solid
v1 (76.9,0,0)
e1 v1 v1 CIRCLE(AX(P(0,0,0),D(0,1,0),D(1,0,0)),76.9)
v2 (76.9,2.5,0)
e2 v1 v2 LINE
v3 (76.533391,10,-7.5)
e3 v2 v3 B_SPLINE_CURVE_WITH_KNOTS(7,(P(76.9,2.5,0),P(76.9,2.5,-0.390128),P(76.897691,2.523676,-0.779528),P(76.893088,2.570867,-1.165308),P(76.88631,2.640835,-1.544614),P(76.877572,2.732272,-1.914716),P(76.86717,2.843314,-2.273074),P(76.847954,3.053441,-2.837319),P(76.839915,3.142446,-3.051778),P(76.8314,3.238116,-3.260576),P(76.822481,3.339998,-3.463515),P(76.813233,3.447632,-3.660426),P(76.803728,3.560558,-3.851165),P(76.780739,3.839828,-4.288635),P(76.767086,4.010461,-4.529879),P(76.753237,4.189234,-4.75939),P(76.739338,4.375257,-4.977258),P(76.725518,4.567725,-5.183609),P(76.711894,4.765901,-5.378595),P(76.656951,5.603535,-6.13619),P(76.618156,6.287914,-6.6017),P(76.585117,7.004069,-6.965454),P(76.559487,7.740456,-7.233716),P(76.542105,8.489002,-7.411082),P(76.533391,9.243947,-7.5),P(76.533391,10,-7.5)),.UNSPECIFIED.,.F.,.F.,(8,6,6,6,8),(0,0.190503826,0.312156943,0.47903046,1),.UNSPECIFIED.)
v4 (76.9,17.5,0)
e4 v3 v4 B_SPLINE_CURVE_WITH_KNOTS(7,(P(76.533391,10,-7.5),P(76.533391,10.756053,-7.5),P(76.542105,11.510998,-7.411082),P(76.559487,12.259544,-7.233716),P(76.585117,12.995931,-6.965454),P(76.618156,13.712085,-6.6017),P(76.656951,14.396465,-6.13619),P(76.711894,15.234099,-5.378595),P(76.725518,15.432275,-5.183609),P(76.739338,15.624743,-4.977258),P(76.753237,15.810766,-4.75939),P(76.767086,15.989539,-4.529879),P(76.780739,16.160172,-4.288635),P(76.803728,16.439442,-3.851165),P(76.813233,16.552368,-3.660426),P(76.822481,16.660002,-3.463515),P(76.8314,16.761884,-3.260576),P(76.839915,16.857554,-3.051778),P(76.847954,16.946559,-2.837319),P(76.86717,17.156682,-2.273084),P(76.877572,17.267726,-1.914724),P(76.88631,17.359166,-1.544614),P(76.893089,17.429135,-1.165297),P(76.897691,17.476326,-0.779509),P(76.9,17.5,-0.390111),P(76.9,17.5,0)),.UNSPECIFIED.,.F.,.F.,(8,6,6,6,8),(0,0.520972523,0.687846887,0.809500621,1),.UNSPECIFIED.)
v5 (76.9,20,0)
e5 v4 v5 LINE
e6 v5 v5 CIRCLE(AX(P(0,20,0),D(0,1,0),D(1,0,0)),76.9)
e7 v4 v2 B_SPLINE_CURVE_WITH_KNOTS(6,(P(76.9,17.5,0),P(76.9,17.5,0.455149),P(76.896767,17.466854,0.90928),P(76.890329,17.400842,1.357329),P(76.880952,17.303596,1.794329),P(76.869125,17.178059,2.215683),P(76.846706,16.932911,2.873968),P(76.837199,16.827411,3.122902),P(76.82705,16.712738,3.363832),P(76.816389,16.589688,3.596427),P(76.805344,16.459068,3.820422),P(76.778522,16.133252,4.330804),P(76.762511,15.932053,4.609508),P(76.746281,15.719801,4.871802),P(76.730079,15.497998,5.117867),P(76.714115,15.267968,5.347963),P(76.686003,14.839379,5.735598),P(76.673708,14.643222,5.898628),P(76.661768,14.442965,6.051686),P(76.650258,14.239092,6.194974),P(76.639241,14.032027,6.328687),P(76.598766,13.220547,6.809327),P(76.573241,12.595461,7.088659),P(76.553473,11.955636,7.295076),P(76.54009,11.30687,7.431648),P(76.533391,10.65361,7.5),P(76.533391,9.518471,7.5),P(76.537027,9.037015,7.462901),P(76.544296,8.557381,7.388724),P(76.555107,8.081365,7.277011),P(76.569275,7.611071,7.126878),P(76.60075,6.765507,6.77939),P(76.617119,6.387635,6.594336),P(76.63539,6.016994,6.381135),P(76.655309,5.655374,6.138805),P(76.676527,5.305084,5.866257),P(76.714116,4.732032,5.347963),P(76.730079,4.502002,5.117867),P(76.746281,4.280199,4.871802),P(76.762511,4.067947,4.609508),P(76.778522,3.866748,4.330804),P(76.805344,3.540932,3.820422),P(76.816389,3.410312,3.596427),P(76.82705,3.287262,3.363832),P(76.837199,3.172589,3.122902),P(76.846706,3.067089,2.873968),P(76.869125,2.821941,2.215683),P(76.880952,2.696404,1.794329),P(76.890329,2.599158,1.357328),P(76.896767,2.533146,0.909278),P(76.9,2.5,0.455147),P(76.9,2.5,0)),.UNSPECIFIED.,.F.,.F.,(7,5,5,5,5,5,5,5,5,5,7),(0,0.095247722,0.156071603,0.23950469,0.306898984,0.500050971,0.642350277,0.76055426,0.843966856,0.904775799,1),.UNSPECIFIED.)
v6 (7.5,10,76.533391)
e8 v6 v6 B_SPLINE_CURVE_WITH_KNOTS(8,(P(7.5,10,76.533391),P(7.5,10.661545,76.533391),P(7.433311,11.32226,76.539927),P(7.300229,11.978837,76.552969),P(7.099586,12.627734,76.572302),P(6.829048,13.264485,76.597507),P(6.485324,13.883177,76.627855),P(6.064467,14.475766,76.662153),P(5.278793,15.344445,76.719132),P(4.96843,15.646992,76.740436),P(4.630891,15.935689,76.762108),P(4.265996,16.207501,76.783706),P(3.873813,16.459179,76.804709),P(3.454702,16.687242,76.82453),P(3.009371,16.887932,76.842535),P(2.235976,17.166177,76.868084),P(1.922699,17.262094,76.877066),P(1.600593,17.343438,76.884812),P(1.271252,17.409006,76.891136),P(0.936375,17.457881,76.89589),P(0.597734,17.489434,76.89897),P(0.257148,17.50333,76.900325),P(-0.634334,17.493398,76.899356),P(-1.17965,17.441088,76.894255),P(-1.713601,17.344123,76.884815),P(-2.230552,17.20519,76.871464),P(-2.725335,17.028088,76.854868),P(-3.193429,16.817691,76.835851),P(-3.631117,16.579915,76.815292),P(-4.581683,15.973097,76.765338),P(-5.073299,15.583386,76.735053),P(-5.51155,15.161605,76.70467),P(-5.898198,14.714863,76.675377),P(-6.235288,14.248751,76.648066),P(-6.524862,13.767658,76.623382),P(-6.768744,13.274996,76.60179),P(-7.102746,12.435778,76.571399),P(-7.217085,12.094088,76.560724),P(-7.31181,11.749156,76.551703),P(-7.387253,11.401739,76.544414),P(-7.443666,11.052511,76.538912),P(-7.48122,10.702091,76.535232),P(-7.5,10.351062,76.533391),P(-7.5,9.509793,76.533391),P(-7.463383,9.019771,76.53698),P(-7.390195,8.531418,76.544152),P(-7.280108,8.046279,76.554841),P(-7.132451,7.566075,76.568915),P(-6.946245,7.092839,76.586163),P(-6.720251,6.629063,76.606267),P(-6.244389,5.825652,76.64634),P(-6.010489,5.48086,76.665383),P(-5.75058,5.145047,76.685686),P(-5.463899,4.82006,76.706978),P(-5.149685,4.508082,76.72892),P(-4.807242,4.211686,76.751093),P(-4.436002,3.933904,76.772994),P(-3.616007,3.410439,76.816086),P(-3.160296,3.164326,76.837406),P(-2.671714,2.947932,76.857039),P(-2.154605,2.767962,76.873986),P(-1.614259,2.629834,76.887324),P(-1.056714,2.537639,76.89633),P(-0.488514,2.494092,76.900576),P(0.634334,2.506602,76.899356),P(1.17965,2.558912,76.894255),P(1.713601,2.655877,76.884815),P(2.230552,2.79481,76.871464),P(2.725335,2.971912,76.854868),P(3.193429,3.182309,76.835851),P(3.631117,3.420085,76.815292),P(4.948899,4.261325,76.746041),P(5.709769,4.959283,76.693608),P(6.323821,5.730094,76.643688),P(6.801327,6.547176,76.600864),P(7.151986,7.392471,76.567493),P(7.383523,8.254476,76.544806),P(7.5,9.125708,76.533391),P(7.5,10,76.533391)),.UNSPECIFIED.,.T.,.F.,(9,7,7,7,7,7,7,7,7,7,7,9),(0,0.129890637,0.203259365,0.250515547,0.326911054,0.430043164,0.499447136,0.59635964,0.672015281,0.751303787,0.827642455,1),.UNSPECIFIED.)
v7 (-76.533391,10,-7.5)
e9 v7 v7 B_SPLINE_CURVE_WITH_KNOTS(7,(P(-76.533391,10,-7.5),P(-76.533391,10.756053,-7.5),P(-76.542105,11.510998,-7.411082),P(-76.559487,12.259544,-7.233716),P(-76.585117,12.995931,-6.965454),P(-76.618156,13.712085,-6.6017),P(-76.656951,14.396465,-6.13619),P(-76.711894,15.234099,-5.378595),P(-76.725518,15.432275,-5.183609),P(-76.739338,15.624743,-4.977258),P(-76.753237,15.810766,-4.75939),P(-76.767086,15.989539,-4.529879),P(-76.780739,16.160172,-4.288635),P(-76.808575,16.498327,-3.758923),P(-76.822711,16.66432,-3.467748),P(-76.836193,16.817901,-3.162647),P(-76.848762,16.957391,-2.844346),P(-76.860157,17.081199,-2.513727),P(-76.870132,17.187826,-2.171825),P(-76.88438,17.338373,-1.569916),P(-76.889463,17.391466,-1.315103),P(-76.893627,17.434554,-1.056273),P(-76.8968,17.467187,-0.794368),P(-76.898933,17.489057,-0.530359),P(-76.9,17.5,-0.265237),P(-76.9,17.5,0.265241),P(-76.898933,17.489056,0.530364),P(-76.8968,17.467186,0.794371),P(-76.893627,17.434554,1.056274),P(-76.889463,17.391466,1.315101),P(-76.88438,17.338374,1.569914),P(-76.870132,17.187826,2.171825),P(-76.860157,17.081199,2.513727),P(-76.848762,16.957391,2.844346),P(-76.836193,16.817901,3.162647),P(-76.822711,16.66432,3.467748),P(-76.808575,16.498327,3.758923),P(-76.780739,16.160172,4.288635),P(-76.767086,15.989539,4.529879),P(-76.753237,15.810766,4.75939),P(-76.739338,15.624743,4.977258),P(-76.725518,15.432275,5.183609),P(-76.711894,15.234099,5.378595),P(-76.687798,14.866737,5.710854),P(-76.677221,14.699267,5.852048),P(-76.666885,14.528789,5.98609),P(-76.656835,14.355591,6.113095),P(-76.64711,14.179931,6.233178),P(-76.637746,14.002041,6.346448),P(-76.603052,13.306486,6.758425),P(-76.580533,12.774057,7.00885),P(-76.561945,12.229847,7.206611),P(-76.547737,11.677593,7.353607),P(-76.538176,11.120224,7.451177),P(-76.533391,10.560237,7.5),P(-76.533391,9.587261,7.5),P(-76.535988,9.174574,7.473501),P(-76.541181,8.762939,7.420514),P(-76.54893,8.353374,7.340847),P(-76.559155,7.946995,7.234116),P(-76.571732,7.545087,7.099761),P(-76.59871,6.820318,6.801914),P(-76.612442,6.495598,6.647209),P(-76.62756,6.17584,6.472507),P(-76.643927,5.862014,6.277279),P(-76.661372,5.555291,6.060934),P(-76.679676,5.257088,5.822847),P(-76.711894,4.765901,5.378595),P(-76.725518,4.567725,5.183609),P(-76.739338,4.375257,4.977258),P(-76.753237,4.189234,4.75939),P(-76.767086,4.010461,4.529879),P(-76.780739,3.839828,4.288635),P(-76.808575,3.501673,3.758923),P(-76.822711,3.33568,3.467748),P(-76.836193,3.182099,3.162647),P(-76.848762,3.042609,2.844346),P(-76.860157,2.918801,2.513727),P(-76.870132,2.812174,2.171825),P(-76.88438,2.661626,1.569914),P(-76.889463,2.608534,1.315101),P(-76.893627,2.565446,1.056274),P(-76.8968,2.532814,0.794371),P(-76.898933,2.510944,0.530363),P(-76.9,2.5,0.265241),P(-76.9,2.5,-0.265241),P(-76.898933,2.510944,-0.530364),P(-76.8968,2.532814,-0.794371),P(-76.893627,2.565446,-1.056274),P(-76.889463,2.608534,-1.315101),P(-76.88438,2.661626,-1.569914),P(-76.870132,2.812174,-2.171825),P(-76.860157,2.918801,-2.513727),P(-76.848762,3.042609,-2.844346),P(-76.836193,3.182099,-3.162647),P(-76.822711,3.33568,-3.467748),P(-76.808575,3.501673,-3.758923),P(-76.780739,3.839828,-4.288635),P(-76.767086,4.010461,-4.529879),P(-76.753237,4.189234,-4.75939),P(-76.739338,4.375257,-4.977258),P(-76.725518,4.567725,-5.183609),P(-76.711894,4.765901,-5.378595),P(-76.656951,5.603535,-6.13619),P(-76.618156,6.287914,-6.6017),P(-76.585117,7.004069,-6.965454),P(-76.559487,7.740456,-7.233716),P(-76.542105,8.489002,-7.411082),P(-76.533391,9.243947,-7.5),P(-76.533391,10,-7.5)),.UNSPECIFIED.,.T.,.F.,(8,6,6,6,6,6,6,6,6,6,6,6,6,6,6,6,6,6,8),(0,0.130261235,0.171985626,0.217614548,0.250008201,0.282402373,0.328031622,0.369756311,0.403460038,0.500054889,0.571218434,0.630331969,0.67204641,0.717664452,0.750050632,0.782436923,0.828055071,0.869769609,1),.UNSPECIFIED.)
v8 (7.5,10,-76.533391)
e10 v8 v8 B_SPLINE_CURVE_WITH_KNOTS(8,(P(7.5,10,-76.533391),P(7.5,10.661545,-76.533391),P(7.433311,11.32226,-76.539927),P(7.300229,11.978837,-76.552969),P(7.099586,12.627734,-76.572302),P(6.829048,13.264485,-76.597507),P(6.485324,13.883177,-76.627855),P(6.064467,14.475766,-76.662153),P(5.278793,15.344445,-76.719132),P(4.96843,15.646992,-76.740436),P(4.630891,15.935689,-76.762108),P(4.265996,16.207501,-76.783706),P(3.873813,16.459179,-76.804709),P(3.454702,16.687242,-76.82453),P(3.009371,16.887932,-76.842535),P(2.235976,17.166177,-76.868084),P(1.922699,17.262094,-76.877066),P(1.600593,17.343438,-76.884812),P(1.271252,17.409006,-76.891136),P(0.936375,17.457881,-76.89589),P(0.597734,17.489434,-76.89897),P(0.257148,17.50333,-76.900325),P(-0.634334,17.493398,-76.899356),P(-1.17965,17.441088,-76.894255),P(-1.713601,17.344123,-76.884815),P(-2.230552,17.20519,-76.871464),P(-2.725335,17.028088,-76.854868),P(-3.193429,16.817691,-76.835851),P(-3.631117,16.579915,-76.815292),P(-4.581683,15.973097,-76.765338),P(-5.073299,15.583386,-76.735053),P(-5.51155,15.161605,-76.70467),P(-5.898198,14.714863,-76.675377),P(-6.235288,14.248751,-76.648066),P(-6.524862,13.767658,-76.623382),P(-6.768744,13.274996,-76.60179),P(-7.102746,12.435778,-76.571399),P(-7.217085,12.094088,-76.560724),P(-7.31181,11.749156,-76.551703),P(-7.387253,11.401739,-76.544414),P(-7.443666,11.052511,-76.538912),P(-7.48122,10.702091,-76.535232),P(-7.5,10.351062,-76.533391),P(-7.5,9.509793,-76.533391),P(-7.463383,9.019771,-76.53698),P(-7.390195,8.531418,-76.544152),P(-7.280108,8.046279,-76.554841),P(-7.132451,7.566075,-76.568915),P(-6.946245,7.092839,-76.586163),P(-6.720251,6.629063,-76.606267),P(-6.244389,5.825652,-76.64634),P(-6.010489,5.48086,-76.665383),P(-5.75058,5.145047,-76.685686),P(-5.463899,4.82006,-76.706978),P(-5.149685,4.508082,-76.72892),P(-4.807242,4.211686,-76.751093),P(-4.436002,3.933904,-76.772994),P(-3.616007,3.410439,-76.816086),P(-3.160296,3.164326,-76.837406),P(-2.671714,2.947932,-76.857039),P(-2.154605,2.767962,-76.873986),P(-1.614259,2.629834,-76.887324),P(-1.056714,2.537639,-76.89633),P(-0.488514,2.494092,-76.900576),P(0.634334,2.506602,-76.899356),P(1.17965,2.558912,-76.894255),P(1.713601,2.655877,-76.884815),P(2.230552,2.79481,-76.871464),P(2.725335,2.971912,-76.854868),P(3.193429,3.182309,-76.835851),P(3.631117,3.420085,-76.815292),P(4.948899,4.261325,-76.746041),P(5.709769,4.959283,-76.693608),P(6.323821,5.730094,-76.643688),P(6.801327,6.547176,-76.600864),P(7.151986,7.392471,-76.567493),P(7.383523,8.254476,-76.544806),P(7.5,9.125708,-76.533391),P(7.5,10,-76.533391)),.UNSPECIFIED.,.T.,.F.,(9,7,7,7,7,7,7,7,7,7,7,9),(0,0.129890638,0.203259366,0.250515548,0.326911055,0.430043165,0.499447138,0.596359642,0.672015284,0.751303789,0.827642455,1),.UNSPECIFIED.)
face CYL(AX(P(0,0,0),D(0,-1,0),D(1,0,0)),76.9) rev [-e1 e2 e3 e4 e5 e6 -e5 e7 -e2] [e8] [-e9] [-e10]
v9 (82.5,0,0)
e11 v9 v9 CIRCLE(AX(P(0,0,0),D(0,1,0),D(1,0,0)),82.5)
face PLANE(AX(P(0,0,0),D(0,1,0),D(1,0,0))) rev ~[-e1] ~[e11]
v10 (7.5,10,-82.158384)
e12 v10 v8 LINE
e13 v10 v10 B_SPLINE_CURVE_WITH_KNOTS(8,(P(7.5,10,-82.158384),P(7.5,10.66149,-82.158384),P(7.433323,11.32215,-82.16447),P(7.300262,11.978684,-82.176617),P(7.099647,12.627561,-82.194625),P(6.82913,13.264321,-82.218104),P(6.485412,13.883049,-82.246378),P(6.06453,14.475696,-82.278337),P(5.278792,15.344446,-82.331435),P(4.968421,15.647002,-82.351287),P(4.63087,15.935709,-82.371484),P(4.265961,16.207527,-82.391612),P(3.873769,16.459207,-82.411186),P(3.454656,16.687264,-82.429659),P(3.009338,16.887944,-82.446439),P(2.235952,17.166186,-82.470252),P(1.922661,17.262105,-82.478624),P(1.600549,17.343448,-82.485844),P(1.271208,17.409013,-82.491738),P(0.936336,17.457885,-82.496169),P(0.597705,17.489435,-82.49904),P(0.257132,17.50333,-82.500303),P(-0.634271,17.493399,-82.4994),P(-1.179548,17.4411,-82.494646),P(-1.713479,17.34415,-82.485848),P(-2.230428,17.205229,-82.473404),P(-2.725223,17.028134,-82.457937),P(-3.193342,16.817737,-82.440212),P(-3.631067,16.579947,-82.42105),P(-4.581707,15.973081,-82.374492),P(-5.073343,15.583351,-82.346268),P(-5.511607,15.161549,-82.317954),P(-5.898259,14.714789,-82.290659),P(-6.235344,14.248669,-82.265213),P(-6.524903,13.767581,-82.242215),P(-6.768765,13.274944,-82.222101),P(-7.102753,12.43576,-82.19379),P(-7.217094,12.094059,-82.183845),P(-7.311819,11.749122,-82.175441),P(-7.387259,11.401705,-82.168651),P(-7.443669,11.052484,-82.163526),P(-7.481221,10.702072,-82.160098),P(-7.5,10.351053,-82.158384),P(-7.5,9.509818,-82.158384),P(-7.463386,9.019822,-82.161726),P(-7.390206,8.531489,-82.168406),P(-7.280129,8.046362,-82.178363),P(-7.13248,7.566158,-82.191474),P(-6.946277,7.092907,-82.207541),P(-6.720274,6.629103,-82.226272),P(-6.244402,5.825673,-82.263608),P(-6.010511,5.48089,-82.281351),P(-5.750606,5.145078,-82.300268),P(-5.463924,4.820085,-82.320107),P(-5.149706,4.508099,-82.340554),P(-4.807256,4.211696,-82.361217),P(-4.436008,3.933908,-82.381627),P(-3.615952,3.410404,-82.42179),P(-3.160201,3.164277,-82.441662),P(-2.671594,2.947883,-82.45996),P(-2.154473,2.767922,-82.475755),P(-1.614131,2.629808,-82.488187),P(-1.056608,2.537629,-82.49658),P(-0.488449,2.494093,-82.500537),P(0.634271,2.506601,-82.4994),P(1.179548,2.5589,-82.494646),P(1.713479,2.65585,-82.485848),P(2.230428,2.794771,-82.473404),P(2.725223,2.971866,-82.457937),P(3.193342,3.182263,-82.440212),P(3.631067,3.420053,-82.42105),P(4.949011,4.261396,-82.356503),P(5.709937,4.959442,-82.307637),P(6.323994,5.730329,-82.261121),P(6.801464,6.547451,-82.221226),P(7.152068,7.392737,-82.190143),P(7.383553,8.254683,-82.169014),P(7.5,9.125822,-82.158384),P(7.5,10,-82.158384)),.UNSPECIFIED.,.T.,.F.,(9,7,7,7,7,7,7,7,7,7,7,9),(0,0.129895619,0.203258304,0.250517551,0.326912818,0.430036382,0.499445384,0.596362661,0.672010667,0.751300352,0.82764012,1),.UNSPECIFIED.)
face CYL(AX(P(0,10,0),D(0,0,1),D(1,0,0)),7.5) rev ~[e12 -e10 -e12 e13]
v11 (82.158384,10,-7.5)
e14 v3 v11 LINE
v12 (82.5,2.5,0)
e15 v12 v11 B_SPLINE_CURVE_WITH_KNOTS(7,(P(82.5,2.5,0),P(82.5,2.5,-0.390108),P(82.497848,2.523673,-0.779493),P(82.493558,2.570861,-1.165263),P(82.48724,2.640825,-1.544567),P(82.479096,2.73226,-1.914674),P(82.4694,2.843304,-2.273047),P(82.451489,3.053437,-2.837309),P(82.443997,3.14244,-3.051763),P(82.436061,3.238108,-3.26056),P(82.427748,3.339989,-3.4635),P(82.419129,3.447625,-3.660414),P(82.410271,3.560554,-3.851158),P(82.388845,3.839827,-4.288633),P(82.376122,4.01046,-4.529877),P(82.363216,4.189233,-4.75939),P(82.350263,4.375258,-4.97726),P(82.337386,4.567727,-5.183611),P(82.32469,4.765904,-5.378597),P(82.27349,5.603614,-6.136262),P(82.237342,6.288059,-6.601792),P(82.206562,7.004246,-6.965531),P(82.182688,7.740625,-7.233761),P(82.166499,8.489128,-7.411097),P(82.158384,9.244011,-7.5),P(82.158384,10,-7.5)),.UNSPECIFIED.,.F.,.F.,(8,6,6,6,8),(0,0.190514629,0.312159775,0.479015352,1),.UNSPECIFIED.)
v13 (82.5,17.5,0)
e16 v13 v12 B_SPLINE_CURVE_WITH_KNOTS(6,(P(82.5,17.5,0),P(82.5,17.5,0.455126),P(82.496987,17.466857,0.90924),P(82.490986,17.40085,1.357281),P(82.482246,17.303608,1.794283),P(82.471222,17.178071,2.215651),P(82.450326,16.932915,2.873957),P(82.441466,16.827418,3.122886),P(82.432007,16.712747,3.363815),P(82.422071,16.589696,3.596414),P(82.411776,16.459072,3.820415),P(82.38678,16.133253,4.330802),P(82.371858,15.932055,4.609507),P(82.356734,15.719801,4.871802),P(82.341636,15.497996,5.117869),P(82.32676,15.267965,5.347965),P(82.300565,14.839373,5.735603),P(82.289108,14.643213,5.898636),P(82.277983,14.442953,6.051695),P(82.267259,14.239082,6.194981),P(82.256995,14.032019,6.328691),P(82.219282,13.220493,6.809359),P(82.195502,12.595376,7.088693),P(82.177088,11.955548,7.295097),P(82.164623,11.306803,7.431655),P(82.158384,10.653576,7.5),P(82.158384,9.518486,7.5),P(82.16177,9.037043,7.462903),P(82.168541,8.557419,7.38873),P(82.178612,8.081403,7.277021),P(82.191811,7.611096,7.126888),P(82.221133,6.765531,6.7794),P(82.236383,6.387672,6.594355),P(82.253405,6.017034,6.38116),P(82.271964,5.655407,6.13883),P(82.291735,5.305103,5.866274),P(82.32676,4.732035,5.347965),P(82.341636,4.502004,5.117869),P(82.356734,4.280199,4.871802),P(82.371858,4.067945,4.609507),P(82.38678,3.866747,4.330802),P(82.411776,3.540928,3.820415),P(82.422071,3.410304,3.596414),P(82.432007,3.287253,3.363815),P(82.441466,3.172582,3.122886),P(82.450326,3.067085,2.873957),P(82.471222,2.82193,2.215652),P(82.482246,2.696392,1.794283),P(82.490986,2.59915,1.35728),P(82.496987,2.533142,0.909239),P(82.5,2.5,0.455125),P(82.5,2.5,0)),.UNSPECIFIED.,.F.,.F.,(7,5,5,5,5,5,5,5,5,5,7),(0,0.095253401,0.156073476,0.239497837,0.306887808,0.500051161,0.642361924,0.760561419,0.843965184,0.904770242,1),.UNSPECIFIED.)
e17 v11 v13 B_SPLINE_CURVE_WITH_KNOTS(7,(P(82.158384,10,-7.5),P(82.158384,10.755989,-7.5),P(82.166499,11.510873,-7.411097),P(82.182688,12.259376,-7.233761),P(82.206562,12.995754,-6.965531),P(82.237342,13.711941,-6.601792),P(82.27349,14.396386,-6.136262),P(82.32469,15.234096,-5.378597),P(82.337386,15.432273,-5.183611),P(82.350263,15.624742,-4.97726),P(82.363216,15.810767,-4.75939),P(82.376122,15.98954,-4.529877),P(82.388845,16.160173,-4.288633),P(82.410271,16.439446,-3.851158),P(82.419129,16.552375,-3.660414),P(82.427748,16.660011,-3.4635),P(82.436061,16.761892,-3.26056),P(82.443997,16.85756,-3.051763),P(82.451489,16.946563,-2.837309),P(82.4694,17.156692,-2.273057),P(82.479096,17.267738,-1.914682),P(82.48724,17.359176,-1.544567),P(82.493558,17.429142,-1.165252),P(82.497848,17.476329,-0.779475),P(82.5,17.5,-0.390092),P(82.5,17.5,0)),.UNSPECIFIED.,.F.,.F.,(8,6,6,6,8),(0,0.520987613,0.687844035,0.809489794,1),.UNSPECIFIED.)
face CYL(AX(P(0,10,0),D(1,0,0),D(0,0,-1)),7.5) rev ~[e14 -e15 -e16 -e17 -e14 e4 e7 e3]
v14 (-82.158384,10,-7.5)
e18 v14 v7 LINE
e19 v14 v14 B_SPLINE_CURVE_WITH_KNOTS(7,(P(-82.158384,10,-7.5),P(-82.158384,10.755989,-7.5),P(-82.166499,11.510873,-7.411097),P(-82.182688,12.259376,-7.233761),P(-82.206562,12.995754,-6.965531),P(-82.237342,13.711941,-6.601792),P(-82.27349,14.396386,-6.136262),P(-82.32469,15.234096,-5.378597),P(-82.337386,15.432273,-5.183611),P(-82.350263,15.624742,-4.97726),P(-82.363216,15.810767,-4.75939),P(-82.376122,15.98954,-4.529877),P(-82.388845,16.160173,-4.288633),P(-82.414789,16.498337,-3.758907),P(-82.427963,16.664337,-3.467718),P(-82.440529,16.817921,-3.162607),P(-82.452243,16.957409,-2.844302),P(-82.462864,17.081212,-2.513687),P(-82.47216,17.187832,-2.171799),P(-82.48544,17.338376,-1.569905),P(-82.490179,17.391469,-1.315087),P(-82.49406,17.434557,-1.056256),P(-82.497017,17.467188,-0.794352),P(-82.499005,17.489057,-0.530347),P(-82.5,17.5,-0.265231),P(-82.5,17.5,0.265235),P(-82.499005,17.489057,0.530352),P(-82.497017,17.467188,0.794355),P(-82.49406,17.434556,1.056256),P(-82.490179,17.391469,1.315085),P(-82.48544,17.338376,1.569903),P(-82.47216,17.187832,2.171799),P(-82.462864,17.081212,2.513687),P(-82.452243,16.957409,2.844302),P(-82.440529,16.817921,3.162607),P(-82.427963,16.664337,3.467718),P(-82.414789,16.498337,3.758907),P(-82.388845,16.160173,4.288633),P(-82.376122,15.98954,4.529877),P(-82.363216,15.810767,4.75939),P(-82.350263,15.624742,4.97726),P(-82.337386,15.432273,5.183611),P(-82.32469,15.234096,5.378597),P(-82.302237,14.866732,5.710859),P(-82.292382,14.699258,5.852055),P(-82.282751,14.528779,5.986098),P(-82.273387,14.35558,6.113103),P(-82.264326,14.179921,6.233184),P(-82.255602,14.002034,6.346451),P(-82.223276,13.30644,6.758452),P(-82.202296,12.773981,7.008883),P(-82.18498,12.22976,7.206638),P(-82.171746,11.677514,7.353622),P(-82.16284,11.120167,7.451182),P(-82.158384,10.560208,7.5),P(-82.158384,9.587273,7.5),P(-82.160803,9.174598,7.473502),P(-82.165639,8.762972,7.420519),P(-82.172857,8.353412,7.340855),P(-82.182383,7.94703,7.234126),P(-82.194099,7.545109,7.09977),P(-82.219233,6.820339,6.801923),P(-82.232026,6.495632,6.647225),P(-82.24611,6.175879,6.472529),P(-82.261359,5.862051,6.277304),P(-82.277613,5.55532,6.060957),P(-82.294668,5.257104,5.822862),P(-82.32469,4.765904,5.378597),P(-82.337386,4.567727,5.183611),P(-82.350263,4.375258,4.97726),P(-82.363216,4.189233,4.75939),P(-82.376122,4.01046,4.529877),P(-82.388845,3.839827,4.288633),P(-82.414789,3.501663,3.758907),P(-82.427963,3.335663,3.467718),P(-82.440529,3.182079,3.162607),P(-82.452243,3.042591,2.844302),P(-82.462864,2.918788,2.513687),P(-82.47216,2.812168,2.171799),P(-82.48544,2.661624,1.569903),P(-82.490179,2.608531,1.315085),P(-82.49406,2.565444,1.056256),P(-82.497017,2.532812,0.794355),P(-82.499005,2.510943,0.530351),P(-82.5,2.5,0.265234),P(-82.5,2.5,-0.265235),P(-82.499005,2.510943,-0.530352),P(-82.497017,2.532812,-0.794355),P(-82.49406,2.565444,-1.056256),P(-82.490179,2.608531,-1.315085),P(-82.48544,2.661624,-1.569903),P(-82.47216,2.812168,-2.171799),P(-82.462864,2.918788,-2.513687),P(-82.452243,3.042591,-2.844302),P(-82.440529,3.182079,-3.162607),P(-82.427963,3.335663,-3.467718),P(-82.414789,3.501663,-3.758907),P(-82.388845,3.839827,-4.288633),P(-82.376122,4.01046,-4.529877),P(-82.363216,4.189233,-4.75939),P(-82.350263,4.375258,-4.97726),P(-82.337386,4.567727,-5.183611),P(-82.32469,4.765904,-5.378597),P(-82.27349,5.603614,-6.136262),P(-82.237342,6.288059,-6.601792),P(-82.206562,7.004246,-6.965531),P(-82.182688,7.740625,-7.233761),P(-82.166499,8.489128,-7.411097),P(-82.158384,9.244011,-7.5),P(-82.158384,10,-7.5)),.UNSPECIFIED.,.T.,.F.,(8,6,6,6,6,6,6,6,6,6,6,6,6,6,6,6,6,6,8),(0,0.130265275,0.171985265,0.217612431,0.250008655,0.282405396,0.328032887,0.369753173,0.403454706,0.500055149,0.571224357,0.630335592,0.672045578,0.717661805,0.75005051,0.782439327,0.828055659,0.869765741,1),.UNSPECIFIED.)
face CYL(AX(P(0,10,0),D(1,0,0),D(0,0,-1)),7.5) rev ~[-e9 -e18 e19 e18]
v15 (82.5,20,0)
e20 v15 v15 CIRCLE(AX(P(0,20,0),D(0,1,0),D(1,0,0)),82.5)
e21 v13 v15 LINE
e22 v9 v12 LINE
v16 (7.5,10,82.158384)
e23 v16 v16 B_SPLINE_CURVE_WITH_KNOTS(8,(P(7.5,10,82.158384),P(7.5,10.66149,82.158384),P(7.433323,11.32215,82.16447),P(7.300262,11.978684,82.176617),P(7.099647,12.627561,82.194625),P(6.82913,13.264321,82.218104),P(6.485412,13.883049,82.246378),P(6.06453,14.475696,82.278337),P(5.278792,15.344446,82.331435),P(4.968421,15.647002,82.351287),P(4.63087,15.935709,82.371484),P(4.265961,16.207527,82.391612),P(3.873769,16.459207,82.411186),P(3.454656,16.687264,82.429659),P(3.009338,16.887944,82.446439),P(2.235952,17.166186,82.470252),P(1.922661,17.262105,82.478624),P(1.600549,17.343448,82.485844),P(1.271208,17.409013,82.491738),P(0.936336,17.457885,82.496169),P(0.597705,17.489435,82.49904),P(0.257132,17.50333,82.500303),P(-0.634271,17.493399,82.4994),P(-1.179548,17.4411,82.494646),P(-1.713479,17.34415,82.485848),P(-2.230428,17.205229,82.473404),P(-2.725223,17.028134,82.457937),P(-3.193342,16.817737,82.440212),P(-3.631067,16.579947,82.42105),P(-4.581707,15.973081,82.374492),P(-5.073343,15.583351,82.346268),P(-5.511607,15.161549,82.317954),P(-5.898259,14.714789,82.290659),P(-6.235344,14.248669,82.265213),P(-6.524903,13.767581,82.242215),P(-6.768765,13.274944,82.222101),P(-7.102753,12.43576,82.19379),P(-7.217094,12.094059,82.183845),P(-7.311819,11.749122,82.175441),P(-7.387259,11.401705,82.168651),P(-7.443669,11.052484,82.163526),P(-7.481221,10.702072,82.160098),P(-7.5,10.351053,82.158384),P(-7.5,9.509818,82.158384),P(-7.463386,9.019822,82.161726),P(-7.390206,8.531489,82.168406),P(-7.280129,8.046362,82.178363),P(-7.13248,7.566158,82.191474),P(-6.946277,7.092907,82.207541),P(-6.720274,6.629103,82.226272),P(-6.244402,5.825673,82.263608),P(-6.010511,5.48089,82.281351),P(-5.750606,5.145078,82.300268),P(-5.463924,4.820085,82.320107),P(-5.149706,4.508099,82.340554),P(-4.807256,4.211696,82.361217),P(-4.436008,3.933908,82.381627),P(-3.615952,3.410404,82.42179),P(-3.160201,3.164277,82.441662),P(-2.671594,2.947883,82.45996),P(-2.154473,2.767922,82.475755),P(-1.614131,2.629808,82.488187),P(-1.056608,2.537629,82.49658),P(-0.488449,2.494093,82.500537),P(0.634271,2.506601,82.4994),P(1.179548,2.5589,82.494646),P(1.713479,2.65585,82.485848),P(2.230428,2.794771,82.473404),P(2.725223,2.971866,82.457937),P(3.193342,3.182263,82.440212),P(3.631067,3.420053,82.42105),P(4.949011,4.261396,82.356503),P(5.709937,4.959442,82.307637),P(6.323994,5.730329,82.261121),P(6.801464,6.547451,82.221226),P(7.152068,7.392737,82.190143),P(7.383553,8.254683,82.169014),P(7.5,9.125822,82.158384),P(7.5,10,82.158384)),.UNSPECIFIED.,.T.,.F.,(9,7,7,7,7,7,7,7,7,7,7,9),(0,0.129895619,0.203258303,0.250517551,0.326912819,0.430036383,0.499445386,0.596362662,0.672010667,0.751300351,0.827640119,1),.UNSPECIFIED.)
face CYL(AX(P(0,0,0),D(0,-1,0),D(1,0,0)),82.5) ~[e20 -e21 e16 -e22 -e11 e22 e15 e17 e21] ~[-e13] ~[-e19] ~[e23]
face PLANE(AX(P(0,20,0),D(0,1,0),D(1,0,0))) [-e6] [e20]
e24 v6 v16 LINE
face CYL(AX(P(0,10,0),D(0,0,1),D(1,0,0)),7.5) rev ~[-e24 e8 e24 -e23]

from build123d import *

# Parameters (mm, degrees)
SKETCH1_R           = 82.5
SKETCH1_R_2         = 76.9
EXTRUDE_THIN1_DEPTH = 20
SKETCH2_R           = 7.5
CUT_EXTRUDE1_DEPTH  = 100
CIRPATTERN1_COUNT   = 2
CIRPATTERN1_ANGLE   = 90


with BuildPart() as part:
    # Sketch1 → Extrude-Thin1 (new body)
    with BuildSketch(Plane(origin=(0, 0, 0), x_dir=(1, 0, 0), z_dir=(0, 1, 0))):
        Circle(SKETCH1_R)
        Circle(SKETCH1_R_2, mode=Mode.SUBTRACT)
    extrude(amount=EXTRUDE_THIN1_DEPTH)

    # Sketch2 → Cut-Extrude1 (cut, symmetric)
    with BuildSketch(Plane(origin=(0, 0, 0), x_dir=(0, 0, -1), z_dir=(1, 0, 0))):
        with Locations((0, 10)):
            Circle(SKETCH2_R)
    cut_extrude1 = extrude(amount=CUT_EXTRUDE1_DEPTH, both=True, mode=Mode.SUBTRACT)

    # CirPattern1: Cut-Extrude1 ×2 about axis
    cirpattern1_axis = Axis((0, 20, 0), (0, -1, 0))
    for i in range(1, CIRPATTERN1_COUNT):
        add(cut_extrude1.rotate(cirpattern1_axis, i * CIRPATTERN1_ANGLE / (CIRPATTERN1_COUNT - 1)), mode=Mode.SUBTRACT)


solid = part.part
